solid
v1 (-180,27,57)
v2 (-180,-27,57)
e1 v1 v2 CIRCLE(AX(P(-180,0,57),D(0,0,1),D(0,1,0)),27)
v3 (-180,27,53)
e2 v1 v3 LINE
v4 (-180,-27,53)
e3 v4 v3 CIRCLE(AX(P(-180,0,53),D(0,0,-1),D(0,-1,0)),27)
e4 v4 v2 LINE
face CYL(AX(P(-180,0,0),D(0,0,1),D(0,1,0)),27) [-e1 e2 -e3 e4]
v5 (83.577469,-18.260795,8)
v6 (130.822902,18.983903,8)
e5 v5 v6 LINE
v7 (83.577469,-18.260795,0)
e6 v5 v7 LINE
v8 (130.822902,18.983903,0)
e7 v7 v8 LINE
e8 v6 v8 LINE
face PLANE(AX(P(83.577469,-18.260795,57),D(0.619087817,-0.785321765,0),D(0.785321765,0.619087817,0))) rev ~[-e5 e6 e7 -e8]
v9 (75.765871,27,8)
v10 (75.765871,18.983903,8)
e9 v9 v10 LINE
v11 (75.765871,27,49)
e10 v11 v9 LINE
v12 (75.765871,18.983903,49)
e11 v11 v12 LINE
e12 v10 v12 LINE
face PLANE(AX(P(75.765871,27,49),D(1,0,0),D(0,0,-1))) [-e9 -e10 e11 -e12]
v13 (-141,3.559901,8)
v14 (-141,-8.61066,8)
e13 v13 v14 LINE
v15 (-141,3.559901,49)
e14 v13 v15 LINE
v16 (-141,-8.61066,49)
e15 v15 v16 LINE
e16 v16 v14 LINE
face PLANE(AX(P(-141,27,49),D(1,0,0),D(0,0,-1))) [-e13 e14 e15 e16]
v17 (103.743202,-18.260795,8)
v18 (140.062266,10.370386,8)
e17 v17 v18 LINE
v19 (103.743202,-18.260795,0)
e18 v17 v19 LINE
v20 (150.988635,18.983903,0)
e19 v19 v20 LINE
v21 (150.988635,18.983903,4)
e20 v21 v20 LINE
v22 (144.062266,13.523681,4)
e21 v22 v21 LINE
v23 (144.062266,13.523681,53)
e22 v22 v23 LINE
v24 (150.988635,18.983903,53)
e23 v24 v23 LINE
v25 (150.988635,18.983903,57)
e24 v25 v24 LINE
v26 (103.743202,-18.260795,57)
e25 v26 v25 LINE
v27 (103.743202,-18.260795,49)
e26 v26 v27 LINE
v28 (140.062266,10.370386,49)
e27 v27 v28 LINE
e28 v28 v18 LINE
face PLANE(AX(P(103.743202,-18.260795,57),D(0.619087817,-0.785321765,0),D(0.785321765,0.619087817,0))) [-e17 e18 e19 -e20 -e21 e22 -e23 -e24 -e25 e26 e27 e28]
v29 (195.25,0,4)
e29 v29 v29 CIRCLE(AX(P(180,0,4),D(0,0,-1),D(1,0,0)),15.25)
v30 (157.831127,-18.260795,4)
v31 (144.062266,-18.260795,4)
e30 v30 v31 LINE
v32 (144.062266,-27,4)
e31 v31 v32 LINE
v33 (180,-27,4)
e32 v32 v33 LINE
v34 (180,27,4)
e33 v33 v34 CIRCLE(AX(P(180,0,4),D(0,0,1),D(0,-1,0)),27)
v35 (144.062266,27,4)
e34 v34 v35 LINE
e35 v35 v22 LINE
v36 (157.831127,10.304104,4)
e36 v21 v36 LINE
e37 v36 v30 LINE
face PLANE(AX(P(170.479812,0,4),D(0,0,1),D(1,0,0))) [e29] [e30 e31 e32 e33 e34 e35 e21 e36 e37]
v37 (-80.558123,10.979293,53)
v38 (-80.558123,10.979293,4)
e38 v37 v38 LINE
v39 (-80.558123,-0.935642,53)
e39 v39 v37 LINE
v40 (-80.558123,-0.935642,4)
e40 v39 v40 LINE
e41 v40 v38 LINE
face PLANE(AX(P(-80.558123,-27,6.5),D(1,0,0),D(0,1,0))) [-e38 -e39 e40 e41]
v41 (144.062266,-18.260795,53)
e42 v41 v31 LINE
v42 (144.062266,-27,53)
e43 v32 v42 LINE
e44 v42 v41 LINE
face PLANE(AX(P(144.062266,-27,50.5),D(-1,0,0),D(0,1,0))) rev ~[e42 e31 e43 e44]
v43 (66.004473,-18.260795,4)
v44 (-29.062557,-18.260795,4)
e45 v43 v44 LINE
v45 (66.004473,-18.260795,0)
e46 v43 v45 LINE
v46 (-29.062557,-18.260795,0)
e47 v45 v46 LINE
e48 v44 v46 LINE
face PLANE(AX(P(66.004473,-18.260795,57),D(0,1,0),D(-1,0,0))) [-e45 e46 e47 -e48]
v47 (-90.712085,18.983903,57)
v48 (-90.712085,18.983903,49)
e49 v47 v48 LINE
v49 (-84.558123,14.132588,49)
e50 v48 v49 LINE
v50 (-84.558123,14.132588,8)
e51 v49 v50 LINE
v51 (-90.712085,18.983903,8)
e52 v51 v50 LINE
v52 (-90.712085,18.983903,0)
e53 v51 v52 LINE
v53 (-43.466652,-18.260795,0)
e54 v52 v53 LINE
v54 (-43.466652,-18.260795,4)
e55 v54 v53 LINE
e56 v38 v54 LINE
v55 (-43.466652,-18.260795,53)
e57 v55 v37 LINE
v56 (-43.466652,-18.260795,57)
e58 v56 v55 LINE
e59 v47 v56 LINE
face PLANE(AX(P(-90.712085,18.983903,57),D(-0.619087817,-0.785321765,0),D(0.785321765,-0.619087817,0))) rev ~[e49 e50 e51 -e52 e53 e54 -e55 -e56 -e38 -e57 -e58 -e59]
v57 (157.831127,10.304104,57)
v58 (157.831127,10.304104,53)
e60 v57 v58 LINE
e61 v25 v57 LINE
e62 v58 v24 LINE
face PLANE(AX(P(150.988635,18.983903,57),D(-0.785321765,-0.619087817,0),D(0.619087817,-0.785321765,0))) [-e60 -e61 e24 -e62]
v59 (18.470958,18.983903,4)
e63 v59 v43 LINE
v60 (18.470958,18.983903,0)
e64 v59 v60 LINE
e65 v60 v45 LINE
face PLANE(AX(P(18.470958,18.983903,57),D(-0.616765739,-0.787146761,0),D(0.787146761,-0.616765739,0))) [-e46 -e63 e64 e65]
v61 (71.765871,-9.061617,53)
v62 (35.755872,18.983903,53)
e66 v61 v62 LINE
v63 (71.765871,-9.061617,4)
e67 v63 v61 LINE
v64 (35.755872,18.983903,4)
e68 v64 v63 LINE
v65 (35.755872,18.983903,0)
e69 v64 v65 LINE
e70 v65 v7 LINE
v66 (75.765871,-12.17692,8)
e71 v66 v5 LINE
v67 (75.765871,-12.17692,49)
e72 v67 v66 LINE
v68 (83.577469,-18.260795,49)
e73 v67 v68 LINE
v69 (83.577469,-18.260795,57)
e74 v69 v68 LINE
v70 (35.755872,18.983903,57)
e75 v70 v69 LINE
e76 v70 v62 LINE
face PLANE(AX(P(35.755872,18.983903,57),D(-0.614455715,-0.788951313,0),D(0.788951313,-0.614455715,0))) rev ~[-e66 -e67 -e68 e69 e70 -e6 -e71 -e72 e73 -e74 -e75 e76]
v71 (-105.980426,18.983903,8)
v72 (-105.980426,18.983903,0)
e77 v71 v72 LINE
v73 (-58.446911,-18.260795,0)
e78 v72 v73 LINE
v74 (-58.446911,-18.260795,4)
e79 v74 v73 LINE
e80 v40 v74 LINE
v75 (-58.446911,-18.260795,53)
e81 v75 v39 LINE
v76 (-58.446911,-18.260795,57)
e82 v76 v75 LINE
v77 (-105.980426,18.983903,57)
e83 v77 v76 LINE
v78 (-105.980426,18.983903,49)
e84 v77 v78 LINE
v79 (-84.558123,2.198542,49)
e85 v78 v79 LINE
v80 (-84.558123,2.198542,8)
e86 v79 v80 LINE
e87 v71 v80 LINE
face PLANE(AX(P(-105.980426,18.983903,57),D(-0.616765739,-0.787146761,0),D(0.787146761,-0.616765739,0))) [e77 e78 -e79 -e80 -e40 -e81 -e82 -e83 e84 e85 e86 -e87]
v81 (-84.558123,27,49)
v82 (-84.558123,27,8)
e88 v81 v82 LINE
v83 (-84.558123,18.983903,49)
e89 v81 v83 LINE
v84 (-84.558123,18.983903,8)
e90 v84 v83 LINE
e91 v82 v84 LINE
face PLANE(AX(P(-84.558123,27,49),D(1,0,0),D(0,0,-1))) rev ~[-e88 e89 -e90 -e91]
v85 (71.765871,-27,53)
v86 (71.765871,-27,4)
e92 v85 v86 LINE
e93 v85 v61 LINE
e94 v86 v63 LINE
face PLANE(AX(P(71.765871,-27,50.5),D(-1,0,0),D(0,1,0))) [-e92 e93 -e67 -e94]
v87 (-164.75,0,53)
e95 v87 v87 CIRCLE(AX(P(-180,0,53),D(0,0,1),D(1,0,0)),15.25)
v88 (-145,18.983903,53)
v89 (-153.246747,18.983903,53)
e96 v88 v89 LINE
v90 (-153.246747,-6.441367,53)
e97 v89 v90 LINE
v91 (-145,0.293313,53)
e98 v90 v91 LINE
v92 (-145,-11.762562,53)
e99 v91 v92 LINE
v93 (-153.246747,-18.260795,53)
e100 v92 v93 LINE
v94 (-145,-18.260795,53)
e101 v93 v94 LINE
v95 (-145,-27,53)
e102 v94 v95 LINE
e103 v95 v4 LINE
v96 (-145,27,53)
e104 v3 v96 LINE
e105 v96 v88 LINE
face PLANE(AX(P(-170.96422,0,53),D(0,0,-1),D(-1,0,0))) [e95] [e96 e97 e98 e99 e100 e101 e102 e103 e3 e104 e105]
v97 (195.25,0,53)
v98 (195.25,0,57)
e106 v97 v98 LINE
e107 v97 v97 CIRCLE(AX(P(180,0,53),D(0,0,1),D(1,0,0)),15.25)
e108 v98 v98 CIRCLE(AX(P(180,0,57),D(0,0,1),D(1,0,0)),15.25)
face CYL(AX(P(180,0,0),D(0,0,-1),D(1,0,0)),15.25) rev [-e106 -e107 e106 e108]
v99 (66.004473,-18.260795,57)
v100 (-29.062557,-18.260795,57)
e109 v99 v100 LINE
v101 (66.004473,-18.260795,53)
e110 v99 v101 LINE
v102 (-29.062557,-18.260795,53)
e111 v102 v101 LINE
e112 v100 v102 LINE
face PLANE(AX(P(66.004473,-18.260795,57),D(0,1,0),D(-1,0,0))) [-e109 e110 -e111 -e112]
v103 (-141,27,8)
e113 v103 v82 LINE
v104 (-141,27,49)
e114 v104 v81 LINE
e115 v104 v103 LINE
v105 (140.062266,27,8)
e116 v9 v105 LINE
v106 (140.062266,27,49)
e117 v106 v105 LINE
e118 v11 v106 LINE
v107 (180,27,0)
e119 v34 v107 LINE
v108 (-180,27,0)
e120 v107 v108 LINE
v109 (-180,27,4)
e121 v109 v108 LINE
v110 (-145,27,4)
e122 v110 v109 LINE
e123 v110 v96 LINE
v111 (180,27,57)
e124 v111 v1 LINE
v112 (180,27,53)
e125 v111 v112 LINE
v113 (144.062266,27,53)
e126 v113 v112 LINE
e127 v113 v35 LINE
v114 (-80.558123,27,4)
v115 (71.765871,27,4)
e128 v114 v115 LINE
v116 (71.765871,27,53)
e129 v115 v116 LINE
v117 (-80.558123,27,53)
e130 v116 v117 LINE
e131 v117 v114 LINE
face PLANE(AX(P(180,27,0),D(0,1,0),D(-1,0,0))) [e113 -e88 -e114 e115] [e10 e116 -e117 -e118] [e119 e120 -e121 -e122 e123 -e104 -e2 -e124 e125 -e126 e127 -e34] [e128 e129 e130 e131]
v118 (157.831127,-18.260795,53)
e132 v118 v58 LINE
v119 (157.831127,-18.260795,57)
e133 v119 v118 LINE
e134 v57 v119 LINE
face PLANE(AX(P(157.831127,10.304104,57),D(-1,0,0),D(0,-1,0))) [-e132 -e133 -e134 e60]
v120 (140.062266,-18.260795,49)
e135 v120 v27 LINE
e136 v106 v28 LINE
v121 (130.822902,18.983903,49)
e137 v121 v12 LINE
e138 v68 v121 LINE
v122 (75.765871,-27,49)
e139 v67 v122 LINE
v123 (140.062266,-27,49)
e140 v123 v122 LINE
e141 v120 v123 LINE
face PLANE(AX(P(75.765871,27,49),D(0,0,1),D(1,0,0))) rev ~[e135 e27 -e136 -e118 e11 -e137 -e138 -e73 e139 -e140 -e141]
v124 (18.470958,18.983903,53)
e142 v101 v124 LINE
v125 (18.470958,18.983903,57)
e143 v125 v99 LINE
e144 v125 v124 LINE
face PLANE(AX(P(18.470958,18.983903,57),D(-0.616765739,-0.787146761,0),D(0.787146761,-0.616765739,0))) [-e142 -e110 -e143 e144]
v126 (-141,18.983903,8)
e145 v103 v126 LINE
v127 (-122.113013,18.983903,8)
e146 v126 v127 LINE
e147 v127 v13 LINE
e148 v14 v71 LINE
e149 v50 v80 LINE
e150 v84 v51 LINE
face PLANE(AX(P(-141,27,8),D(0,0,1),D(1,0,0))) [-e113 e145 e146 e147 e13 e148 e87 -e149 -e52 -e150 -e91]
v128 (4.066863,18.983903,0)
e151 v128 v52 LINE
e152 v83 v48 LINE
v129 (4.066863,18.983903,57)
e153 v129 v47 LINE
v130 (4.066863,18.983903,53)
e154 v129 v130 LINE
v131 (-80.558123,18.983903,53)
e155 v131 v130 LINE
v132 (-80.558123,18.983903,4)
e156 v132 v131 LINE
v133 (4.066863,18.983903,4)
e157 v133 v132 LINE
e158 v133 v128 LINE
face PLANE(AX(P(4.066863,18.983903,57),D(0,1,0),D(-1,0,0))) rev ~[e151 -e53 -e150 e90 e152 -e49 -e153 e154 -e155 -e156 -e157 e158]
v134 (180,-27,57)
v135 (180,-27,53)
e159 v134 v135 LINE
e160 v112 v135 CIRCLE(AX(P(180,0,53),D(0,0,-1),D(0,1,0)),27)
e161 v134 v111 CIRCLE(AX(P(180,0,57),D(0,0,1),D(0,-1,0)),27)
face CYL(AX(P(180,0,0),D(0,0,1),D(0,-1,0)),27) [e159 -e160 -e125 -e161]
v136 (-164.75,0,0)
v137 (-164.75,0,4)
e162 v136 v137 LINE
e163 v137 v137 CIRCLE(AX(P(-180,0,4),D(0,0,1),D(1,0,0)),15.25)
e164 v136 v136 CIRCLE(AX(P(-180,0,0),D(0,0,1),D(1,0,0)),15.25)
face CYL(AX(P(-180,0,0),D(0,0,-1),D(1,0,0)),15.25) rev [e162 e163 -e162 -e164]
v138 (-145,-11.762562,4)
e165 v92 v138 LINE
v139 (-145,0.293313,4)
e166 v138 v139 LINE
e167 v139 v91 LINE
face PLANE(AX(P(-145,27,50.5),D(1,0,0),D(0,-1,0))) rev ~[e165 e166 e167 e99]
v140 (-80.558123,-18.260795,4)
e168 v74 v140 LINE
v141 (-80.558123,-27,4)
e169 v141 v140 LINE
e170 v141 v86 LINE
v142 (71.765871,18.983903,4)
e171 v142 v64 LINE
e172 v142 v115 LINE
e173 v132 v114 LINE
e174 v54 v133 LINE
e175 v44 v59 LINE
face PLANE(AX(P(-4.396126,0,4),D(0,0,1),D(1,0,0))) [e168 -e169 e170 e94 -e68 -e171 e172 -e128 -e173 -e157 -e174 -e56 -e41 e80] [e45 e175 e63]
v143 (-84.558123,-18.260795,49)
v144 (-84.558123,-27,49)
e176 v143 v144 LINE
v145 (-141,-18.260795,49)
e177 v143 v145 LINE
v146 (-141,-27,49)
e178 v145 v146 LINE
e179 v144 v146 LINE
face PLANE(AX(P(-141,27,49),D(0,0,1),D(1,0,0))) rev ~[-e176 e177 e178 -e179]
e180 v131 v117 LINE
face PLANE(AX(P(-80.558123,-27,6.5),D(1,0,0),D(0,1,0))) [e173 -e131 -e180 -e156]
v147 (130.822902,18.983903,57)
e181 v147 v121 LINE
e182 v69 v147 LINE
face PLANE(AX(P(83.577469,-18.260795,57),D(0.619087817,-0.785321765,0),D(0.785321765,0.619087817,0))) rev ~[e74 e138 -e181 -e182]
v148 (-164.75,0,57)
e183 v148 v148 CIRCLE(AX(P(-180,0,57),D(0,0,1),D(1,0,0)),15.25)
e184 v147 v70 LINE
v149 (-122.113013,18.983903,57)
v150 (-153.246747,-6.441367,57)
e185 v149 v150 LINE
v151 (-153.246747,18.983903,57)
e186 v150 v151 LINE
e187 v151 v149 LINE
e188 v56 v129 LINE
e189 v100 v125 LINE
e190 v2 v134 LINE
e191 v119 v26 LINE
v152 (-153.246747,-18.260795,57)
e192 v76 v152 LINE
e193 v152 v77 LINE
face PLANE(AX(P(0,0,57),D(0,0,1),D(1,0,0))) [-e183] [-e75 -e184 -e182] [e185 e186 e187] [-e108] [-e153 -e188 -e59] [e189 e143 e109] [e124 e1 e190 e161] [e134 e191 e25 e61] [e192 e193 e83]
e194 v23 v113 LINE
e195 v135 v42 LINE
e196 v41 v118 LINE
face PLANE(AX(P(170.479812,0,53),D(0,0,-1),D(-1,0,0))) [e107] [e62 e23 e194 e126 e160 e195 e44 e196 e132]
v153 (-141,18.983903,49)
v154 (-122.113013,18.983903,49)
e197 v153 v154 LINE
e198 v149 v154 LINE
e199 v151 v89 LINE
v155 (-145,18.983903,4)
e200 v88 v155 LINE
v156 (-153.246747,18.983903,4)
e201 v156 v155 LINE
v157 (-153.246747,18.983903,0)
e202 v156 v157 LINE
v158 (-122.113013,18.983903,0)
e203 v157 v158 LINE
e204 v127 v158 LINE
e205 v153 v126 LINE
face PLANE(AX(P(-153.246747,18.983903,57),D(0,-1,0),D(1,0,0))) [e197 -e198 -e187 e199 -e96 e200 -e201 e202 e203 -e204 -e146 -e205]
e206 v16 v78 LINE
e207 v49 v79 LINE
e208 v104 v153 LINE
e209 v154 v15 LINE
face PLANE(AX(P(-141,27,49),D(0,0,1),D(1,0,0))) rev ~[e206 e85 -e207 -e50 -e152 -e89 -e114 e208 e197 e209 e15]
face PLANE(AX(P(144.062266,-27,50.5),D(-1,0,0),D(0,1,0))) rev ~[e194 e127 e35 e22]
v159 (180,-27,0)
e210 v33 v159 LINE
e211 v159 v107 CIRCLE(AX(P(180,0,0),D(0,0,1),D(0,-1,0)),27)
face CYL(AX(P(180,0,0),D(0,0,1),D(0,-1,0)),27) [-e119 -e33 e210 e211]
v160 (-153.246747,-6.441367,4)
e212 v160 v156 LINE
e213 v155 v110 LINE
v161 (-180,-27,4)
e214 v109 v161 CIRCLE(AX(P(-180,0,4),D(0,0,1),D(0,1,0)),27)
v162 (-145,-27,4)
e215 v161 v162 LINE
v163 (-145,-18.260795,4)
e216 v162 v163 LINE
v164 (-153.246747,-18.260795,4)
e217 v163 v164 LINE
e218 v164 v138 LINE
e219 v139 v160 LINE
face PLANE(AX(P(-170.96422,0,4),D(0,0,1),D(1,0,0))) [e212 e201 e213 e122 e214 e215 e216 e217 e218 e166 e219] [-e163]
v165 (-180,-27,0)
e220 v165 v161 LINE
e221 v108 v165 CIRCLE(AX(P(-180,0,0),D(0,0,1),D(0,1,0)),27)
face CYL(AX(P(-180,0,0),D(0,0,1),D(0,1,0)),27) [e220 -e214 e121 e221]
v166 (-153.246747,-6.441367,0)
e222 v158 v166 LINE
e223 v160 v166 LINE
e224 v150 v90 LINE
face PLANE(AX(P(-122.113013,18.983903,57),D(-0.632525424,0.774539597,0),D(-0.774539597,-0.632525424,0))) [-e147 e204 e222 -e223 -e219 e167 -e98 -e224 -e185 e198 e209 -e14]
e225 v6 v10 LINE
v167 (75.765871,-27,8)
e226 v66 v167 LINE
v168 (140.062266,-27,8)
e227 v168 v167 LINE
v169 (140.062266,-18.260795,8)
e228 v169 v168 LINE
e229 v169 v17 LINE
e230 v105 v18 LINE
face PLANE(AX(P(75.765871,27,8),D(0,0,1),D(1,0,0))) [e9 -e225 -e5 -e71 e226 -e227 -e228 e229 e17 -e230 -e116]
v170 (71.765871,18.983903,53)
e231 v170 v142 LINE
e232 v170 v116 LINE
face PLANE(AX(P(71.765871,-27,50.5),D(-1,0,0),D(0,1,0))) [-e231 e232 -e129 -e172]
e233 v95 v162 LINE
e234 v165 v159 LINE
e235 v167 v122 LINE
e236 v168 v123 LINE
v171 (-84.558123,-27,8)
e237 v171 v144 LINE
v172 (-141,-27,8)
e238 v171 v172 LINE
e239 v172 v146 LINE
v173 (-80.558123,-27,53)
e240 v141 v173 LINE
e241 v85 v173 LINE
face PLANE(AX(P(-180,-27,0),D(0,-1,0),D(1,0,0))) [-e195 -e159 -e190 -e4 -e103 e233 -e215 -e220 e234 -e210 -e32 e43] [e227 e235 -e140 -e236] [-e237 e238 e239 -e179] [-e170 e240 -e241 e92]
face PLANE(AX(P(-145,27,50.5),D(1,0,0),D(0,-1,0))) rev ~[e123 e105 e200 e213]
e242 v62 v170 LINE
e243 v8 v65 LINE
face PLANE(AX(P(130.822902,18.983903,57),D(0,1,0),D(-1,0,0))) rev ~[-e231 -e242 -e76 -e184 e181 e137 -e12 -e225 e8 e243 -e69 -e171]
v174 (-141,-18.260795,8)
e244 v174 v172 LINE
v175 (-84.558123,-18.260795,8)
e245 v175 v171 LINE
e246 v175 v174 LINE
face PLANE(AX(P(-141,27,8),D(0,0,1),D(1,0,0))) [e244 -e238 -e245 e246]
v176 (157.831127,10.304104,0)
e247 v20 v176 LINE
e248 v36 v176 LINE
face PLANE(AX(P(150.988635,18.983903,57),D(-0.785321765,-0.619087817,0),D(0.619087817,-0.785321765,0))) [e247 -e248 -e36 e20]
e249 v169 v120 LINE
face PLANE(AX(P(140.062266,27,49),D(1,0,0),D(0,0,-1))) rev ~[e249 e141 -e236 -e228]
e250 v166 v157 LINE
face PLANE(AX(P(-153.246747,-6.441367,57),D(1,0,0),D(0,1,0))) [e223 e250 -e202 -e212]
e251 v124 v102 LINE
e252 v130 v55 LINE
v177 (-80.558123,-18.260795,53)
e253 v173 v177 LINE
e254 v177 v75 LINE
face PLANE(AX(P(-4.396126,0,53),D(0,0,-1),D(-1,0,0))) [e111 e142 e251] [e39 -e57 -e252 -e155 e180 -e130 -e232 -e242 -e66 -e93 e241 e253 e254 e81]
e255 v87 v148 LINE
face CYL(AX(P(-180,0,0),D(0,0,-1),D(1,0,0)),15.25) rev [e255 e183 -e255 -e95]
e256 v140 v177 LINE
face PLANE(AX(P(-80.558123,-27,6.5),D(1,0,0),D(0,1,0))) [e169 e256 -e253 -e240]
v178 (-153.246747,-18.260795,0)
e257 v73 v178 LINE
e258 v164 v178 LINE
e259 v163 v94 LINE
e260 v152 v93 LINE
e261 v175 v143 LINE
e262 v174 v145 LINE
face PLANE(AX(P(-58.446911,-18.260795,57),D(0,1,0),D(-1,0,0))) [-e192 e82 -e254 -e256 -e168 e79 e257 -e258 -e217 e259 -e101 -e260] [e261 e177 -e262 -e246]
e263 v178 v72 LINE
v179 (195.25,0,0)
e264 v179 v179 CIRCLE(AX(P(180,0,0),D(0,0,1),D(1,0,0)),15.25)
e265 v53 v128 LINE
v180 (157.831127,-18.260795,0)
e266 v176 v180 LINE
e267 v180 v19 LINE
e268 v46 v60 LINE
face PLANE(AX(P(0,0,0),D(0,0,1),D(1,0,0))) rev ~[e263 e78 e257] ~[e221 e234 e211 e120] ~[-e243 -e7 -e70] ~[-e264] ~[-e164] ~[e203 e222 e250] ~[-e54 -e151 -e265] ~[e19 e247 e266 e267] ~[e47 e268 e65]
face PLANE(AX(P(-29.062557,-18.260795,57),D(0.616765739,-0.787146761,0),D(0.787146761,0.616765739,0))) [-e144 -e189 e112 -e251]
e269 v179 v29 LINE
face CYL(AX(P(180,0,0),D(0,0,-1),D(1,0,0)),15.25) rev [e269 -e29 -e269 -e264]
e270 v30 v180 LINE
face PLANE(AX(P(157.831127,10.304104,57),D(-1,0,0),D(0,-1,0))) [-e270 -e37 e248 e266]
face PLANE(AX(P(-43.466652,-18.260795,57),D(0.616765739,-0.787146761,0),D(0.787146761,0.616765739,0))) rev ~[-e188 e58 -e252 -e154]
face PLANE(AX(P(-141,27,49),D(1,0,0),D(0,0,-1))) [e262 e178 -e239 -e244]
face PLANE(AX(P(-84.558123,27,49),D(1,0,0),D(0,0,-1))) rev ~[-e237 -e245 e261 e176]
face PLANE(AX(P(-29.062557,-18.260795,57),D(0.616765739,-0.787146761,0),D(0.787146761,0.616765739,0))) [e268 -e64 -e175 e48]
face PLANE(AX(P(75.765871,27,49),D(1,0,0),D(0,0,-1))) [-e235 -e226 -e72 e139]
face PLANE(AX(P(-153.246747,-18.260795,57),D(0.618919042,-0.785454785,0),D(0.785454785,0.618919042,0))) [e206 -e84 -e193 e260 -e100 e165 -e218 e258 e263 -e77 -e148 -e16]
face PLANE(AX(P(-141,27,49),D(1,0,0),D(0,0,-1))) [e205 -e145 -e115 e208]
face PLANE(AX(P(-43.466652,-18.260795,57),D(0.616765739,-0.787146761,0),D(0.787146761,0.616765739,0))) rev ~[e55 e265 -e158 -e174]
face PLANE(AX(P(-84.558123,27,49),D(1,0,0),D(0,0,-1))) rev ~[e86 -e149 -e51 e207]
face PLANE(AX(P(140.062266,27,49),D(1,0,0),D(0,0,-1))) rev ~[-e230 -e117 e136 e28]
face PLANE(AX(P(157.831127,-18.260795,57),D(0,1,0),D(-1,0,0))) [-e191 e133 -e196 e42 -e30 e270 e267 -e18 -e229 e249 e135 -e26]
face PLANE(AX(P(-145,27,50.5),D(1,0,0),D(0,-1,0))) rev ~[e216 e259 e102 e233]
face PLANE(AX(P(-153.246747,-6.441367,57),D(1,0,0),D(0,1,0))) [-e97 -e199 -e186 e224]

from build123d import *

# Parameters (mm, degrees)
CROQUIS1_R              = 15.25
SALIENTE_EXTRUIR1_DEPTH = 57
CROQUIS2_W              = 70
CROQUIS2_H              = 44
CROQUIS2_W_2            = 152.323993802
CORTAR_EXTRUIR1_DEPTH   = 40
CORTAR_EXTRUIR3_DEPTH   = 75
CROQUIS4_R              = 15.25
CORTAR_EXTRUIR4_DEPTH   = 2.5
CROQUIS5_R              = 15.25
CORTAR_EXTRUIR5_DEPTH   = 2.5
CROQUIS6_R              = 15.083558861
CORTAR_EXTRUIR6_DEPTH   = 2.5
CROQUIS7_R              = 15.25
CORTAR_EXTRUIR7_DEPTH   = 2.5
CROQUIS8_W              = 152.323993802
CROQUIS8_H              = 54
CORTAR_EXTRUIR8_DEPTH   = 2.5
CROQUIS9_W              = 152.323993802
CROQUIS9_H              = 54
CORTAR_EXTRUIR9_DEPTH   = 2.5
CROQUIS10_W             = 56.441876841
CROQUIS10_H             = 41
CORTAR_EXTRUIR10_DEPTH  = 70
CROQUIS11_W             = 64.296395464
CROQUIS11_H             = 41
CORTAR_EXTRUIR11_DEPTH  = 70
CORTAR_EXTRUIR12_DEPTH  = 78


with BuildPart() as part:
    # Croquis1 → Saliente-Extruir1 (new body)
    with BuildSketch(Plane.XY):
        with BuildLine():
            Line((-180, -35), (180, -35))
            ThreePointArc((180, -35), (215, 0), (180, 35))
            Line((180, 35), (-180, 35))
            ThreePointArc((-180, 35), (-215, 0), (-180, -35))
        make_face()
        with Locations((-180, 0)):
            Circle(CROQUIS1_R, mode=Mode.SUBTRACT)
        with Locations((180, 0)):
            Circle(CROQUIS1_R, mode=Mode.SUBTRACT)
    extrude(amount=SALIENTE_EXTRUIR1_DEPTH)

    # Croquis2 → Cortar-Extruir1 (cut, symmetric)
    with BuildSketch(Plane(origin=(0, 0, 0), x_dir=(1, 0, 0), z_dir=(0, 1, 0))):
        with Locations((-180, -28.5)):
            Rectangle(CROQUIS2_W, CROQUIS2_H)
        with Locations((179.062266107, -28.5)):
            Rectangle(CROQUIS2_W, CROQUIS2_H)
        with Locations((-4.396126258, -28.5)):
            Rectangle(CROQUIS2_W_2, CROQUIS2_H)
    extrude(amount=CORTAR_EXTRUIR1_DEPTH, both=True, mode=Mode.SUBTRACT)

    # Croquis3 → Cortar-Extruir3 (cut, symmetric)
    with BuildSketch(Plane.XY):
        with BuildLine():
            Line((-180, -35), (180, -35))
            ThreePointArc((180, -35), (215, 0), (180, 35))
            Line((180, 35), (-180, 35))
            ThreePointArc((-180, 35), (-215, 0), (-180, -35))
        make_face()
        with BuildLine():
            Line((-180, -27), (180, -27))
            ThreePointArc((180, -27), (207, 0), (180, 27))
            Line((180, 27), (-180, 27))
            ThreePointArc((-180, 27), (-207, 0), (-180, -27))
        make_face(mode=Mode.SUBTRACT)
    extrude(amount=CORTAR_EXTRUIR3_DEPTH, both=True, mode=Mode.SUBTRACT)

    # Croquis4 → Cortar-Extruir4 (cut)
    with BuildSketch(Plane.XY.offset(6.5)):
        with BuildLine():
            Line((-145, 27), (-180, 27))
            ThreePointArc((-180, 27), (-207, 0), (-180, -27))
            Line((-180, -27), (-145, -27))
            Line((-145, -27), (-145, 27))
        make_face()
        with Locations((-180, 0)):
            Circle(CROQUIS4_R, mode=Mode.SUBTRACT)
    extrude(amount=-CORTAR_EXTRUIR4_DEPTH, mode=Mode.SUBTRACT)

    # Croquis5 → Cortar-Extruir5 (cut)
    with BuildSketch(Plane(origin=(0, 0, 50.5), x_dir=(-1, 0, 0), z_dir=(0, 0, -1))):
        with BuildLine():
            Line((180, 27), (145, 27))
            Line((145, 27), (145, -27))
            Line((145, -27), (180, -27))
            ThreePointArc((180, -27), (207, 0), (180, 27))
        make_face()
        with Locations((180, 0)):
            Circle(CROQUIS5_R, mode=Mode.SUBTRACT)
    extrude(amount=-CORTAR_EXTRUIR5_DEPTH, mode=Mode.SUBTRACT)

    # Croquis6 → Cortar-Extruir6 (cut)
    with BuildSketch(Plane.XY.offset(6.5)):
        with BuildLine():
            Line((180, 27), (144.062266107, 27))
            Line((144.062266107, 27), (144.062266107, -27))
            Line((144.062266107, -27), (180, -27))
            ThreePointArc((180, -27), (207, 0), (180, 27))
        make_face()
        with Locations((180, 0)):
            Circle(CROQUIS6_R, mode=Mode.SUBTRACT)
    extrude(amount=-CORTAR_EXTRUIR6_DEPTH, mode=Mode.SUBTRACT)

    # Croquis7 → Cortar-Extruir7 (cut)
    with BuildSketch(Plane(origin=(0, 0, 50.5), x_dir=(-1, 0, 0), z_dir=(0, 0, -1))):
        with BuildLine():
            Line((-180, -27), (-144.062266107, -27))
            Line((-144.062266107, -27), (-144.062266107, 27))
            Line((-144.062266107, 27), (-180, 27))
            ThreePointArc((-180, 27), (-207, 0), (-180, -27))
        make_face()
        with Locations((-180, 0)):
            Circle(CROQUIS7_R, mode=Mode.SUBTRACT)
    extrude(amount=-CORTAR_EXTRUIR7_DEPTH, mode=Mode.SUBTRACT)

    # Croquis8 → Cortar-Extruir8 (cut)
    with BuildSketch(Plane(origin=(0, 0, 50.5), x_dir=(-1, 0, 0), z_dir=(0, 0, -1))):
        with Locations((4.396126258, 0)):
            Rectangle(CROQUIS8_W, CROQUIS8_H)
    extrude(amount=-CORTAR_EXTRUIR8_DEPTH, mode=Mode.SUBTRACT)

    # Croquis9 → Cortar-Extruir9 (cut)
    with BuildSketch(Plane.XY.offset(6.5)):
        with Locations((-4.396126258, 0)):
            Rectangle(CROQUIS9_W, CROQUIS9_H)
    extrude(amount=-CORTAR_EXTRUIR9_DEPTH, mode=Mode.SUBTRACT)

    # Croquis10 → Cortar-Extruir10 (cut)
    with BuildSketch(Plane(origin=(0, 27, 0), x_dir=(1, 0, 0), z_dir=(0, 1, 0))):
        with Locations((-112.779061579, -28.5)):
            Rectangle(CROQUIS10_W, CROQUIS10_H)
    extrude(amount=-CORTAR_EXTRUIR10_DEPTH, mode=Mode.SUBTRACT)

    # Croquis11 → Cortar-Extruir11 (cut)
    with BuildSketch(Plane(origin=(0, 27, 0), x_dir=(1, 0, 0), z_dir=(0, 1, 0))):
        with Locations((107.914068375, -28.5)):
            Rectangle(CROQUIS11_W, CROQUIS11_H)
    extrude(amount=-CORTAR_EXTRUIR11_DEPTH, mode=Mode.SUBTRACT)

    # Croquis12 → Cortar-Extruir12 (cut)
    with BuildSketch(Plane.XY.offset(57)):
        Polygon((-153.246746746, -18.260795107), (-105.980425778, 18.9839027), (-58.446911177, -18.260795107), align=None)
        Polygon((-153.246746746, 18.9839027), (-122.113012552, 18.9839027), (-153.246746746, -6.441367348), align=None)
        Polygon((157.831126984, 10.304103568), (157.831126984, -18.260795107), (103.74320228, -18.260795107), (150.988634974, 18.9839027), align=None)
        Polygon((-90.712084725, 18.9839027), (-43.46665203, -18.260795107), (4.066862571, 18.9839027), align=None)
        Polygon((-29.062556696, -18.260795107), (18.470957905, 18.9839027), (66.004472506, -18.260795107), align=None)
        Polygon((35.755872305, 18.9839027), (83.577468813, -18.260795107), (130.822901507, 18.9839027), align=None)
    extrude(amount=-CORTAR_EXTRUIR12_DEPTH, mode=Mode.SUBTRACT)


solid = part.part
